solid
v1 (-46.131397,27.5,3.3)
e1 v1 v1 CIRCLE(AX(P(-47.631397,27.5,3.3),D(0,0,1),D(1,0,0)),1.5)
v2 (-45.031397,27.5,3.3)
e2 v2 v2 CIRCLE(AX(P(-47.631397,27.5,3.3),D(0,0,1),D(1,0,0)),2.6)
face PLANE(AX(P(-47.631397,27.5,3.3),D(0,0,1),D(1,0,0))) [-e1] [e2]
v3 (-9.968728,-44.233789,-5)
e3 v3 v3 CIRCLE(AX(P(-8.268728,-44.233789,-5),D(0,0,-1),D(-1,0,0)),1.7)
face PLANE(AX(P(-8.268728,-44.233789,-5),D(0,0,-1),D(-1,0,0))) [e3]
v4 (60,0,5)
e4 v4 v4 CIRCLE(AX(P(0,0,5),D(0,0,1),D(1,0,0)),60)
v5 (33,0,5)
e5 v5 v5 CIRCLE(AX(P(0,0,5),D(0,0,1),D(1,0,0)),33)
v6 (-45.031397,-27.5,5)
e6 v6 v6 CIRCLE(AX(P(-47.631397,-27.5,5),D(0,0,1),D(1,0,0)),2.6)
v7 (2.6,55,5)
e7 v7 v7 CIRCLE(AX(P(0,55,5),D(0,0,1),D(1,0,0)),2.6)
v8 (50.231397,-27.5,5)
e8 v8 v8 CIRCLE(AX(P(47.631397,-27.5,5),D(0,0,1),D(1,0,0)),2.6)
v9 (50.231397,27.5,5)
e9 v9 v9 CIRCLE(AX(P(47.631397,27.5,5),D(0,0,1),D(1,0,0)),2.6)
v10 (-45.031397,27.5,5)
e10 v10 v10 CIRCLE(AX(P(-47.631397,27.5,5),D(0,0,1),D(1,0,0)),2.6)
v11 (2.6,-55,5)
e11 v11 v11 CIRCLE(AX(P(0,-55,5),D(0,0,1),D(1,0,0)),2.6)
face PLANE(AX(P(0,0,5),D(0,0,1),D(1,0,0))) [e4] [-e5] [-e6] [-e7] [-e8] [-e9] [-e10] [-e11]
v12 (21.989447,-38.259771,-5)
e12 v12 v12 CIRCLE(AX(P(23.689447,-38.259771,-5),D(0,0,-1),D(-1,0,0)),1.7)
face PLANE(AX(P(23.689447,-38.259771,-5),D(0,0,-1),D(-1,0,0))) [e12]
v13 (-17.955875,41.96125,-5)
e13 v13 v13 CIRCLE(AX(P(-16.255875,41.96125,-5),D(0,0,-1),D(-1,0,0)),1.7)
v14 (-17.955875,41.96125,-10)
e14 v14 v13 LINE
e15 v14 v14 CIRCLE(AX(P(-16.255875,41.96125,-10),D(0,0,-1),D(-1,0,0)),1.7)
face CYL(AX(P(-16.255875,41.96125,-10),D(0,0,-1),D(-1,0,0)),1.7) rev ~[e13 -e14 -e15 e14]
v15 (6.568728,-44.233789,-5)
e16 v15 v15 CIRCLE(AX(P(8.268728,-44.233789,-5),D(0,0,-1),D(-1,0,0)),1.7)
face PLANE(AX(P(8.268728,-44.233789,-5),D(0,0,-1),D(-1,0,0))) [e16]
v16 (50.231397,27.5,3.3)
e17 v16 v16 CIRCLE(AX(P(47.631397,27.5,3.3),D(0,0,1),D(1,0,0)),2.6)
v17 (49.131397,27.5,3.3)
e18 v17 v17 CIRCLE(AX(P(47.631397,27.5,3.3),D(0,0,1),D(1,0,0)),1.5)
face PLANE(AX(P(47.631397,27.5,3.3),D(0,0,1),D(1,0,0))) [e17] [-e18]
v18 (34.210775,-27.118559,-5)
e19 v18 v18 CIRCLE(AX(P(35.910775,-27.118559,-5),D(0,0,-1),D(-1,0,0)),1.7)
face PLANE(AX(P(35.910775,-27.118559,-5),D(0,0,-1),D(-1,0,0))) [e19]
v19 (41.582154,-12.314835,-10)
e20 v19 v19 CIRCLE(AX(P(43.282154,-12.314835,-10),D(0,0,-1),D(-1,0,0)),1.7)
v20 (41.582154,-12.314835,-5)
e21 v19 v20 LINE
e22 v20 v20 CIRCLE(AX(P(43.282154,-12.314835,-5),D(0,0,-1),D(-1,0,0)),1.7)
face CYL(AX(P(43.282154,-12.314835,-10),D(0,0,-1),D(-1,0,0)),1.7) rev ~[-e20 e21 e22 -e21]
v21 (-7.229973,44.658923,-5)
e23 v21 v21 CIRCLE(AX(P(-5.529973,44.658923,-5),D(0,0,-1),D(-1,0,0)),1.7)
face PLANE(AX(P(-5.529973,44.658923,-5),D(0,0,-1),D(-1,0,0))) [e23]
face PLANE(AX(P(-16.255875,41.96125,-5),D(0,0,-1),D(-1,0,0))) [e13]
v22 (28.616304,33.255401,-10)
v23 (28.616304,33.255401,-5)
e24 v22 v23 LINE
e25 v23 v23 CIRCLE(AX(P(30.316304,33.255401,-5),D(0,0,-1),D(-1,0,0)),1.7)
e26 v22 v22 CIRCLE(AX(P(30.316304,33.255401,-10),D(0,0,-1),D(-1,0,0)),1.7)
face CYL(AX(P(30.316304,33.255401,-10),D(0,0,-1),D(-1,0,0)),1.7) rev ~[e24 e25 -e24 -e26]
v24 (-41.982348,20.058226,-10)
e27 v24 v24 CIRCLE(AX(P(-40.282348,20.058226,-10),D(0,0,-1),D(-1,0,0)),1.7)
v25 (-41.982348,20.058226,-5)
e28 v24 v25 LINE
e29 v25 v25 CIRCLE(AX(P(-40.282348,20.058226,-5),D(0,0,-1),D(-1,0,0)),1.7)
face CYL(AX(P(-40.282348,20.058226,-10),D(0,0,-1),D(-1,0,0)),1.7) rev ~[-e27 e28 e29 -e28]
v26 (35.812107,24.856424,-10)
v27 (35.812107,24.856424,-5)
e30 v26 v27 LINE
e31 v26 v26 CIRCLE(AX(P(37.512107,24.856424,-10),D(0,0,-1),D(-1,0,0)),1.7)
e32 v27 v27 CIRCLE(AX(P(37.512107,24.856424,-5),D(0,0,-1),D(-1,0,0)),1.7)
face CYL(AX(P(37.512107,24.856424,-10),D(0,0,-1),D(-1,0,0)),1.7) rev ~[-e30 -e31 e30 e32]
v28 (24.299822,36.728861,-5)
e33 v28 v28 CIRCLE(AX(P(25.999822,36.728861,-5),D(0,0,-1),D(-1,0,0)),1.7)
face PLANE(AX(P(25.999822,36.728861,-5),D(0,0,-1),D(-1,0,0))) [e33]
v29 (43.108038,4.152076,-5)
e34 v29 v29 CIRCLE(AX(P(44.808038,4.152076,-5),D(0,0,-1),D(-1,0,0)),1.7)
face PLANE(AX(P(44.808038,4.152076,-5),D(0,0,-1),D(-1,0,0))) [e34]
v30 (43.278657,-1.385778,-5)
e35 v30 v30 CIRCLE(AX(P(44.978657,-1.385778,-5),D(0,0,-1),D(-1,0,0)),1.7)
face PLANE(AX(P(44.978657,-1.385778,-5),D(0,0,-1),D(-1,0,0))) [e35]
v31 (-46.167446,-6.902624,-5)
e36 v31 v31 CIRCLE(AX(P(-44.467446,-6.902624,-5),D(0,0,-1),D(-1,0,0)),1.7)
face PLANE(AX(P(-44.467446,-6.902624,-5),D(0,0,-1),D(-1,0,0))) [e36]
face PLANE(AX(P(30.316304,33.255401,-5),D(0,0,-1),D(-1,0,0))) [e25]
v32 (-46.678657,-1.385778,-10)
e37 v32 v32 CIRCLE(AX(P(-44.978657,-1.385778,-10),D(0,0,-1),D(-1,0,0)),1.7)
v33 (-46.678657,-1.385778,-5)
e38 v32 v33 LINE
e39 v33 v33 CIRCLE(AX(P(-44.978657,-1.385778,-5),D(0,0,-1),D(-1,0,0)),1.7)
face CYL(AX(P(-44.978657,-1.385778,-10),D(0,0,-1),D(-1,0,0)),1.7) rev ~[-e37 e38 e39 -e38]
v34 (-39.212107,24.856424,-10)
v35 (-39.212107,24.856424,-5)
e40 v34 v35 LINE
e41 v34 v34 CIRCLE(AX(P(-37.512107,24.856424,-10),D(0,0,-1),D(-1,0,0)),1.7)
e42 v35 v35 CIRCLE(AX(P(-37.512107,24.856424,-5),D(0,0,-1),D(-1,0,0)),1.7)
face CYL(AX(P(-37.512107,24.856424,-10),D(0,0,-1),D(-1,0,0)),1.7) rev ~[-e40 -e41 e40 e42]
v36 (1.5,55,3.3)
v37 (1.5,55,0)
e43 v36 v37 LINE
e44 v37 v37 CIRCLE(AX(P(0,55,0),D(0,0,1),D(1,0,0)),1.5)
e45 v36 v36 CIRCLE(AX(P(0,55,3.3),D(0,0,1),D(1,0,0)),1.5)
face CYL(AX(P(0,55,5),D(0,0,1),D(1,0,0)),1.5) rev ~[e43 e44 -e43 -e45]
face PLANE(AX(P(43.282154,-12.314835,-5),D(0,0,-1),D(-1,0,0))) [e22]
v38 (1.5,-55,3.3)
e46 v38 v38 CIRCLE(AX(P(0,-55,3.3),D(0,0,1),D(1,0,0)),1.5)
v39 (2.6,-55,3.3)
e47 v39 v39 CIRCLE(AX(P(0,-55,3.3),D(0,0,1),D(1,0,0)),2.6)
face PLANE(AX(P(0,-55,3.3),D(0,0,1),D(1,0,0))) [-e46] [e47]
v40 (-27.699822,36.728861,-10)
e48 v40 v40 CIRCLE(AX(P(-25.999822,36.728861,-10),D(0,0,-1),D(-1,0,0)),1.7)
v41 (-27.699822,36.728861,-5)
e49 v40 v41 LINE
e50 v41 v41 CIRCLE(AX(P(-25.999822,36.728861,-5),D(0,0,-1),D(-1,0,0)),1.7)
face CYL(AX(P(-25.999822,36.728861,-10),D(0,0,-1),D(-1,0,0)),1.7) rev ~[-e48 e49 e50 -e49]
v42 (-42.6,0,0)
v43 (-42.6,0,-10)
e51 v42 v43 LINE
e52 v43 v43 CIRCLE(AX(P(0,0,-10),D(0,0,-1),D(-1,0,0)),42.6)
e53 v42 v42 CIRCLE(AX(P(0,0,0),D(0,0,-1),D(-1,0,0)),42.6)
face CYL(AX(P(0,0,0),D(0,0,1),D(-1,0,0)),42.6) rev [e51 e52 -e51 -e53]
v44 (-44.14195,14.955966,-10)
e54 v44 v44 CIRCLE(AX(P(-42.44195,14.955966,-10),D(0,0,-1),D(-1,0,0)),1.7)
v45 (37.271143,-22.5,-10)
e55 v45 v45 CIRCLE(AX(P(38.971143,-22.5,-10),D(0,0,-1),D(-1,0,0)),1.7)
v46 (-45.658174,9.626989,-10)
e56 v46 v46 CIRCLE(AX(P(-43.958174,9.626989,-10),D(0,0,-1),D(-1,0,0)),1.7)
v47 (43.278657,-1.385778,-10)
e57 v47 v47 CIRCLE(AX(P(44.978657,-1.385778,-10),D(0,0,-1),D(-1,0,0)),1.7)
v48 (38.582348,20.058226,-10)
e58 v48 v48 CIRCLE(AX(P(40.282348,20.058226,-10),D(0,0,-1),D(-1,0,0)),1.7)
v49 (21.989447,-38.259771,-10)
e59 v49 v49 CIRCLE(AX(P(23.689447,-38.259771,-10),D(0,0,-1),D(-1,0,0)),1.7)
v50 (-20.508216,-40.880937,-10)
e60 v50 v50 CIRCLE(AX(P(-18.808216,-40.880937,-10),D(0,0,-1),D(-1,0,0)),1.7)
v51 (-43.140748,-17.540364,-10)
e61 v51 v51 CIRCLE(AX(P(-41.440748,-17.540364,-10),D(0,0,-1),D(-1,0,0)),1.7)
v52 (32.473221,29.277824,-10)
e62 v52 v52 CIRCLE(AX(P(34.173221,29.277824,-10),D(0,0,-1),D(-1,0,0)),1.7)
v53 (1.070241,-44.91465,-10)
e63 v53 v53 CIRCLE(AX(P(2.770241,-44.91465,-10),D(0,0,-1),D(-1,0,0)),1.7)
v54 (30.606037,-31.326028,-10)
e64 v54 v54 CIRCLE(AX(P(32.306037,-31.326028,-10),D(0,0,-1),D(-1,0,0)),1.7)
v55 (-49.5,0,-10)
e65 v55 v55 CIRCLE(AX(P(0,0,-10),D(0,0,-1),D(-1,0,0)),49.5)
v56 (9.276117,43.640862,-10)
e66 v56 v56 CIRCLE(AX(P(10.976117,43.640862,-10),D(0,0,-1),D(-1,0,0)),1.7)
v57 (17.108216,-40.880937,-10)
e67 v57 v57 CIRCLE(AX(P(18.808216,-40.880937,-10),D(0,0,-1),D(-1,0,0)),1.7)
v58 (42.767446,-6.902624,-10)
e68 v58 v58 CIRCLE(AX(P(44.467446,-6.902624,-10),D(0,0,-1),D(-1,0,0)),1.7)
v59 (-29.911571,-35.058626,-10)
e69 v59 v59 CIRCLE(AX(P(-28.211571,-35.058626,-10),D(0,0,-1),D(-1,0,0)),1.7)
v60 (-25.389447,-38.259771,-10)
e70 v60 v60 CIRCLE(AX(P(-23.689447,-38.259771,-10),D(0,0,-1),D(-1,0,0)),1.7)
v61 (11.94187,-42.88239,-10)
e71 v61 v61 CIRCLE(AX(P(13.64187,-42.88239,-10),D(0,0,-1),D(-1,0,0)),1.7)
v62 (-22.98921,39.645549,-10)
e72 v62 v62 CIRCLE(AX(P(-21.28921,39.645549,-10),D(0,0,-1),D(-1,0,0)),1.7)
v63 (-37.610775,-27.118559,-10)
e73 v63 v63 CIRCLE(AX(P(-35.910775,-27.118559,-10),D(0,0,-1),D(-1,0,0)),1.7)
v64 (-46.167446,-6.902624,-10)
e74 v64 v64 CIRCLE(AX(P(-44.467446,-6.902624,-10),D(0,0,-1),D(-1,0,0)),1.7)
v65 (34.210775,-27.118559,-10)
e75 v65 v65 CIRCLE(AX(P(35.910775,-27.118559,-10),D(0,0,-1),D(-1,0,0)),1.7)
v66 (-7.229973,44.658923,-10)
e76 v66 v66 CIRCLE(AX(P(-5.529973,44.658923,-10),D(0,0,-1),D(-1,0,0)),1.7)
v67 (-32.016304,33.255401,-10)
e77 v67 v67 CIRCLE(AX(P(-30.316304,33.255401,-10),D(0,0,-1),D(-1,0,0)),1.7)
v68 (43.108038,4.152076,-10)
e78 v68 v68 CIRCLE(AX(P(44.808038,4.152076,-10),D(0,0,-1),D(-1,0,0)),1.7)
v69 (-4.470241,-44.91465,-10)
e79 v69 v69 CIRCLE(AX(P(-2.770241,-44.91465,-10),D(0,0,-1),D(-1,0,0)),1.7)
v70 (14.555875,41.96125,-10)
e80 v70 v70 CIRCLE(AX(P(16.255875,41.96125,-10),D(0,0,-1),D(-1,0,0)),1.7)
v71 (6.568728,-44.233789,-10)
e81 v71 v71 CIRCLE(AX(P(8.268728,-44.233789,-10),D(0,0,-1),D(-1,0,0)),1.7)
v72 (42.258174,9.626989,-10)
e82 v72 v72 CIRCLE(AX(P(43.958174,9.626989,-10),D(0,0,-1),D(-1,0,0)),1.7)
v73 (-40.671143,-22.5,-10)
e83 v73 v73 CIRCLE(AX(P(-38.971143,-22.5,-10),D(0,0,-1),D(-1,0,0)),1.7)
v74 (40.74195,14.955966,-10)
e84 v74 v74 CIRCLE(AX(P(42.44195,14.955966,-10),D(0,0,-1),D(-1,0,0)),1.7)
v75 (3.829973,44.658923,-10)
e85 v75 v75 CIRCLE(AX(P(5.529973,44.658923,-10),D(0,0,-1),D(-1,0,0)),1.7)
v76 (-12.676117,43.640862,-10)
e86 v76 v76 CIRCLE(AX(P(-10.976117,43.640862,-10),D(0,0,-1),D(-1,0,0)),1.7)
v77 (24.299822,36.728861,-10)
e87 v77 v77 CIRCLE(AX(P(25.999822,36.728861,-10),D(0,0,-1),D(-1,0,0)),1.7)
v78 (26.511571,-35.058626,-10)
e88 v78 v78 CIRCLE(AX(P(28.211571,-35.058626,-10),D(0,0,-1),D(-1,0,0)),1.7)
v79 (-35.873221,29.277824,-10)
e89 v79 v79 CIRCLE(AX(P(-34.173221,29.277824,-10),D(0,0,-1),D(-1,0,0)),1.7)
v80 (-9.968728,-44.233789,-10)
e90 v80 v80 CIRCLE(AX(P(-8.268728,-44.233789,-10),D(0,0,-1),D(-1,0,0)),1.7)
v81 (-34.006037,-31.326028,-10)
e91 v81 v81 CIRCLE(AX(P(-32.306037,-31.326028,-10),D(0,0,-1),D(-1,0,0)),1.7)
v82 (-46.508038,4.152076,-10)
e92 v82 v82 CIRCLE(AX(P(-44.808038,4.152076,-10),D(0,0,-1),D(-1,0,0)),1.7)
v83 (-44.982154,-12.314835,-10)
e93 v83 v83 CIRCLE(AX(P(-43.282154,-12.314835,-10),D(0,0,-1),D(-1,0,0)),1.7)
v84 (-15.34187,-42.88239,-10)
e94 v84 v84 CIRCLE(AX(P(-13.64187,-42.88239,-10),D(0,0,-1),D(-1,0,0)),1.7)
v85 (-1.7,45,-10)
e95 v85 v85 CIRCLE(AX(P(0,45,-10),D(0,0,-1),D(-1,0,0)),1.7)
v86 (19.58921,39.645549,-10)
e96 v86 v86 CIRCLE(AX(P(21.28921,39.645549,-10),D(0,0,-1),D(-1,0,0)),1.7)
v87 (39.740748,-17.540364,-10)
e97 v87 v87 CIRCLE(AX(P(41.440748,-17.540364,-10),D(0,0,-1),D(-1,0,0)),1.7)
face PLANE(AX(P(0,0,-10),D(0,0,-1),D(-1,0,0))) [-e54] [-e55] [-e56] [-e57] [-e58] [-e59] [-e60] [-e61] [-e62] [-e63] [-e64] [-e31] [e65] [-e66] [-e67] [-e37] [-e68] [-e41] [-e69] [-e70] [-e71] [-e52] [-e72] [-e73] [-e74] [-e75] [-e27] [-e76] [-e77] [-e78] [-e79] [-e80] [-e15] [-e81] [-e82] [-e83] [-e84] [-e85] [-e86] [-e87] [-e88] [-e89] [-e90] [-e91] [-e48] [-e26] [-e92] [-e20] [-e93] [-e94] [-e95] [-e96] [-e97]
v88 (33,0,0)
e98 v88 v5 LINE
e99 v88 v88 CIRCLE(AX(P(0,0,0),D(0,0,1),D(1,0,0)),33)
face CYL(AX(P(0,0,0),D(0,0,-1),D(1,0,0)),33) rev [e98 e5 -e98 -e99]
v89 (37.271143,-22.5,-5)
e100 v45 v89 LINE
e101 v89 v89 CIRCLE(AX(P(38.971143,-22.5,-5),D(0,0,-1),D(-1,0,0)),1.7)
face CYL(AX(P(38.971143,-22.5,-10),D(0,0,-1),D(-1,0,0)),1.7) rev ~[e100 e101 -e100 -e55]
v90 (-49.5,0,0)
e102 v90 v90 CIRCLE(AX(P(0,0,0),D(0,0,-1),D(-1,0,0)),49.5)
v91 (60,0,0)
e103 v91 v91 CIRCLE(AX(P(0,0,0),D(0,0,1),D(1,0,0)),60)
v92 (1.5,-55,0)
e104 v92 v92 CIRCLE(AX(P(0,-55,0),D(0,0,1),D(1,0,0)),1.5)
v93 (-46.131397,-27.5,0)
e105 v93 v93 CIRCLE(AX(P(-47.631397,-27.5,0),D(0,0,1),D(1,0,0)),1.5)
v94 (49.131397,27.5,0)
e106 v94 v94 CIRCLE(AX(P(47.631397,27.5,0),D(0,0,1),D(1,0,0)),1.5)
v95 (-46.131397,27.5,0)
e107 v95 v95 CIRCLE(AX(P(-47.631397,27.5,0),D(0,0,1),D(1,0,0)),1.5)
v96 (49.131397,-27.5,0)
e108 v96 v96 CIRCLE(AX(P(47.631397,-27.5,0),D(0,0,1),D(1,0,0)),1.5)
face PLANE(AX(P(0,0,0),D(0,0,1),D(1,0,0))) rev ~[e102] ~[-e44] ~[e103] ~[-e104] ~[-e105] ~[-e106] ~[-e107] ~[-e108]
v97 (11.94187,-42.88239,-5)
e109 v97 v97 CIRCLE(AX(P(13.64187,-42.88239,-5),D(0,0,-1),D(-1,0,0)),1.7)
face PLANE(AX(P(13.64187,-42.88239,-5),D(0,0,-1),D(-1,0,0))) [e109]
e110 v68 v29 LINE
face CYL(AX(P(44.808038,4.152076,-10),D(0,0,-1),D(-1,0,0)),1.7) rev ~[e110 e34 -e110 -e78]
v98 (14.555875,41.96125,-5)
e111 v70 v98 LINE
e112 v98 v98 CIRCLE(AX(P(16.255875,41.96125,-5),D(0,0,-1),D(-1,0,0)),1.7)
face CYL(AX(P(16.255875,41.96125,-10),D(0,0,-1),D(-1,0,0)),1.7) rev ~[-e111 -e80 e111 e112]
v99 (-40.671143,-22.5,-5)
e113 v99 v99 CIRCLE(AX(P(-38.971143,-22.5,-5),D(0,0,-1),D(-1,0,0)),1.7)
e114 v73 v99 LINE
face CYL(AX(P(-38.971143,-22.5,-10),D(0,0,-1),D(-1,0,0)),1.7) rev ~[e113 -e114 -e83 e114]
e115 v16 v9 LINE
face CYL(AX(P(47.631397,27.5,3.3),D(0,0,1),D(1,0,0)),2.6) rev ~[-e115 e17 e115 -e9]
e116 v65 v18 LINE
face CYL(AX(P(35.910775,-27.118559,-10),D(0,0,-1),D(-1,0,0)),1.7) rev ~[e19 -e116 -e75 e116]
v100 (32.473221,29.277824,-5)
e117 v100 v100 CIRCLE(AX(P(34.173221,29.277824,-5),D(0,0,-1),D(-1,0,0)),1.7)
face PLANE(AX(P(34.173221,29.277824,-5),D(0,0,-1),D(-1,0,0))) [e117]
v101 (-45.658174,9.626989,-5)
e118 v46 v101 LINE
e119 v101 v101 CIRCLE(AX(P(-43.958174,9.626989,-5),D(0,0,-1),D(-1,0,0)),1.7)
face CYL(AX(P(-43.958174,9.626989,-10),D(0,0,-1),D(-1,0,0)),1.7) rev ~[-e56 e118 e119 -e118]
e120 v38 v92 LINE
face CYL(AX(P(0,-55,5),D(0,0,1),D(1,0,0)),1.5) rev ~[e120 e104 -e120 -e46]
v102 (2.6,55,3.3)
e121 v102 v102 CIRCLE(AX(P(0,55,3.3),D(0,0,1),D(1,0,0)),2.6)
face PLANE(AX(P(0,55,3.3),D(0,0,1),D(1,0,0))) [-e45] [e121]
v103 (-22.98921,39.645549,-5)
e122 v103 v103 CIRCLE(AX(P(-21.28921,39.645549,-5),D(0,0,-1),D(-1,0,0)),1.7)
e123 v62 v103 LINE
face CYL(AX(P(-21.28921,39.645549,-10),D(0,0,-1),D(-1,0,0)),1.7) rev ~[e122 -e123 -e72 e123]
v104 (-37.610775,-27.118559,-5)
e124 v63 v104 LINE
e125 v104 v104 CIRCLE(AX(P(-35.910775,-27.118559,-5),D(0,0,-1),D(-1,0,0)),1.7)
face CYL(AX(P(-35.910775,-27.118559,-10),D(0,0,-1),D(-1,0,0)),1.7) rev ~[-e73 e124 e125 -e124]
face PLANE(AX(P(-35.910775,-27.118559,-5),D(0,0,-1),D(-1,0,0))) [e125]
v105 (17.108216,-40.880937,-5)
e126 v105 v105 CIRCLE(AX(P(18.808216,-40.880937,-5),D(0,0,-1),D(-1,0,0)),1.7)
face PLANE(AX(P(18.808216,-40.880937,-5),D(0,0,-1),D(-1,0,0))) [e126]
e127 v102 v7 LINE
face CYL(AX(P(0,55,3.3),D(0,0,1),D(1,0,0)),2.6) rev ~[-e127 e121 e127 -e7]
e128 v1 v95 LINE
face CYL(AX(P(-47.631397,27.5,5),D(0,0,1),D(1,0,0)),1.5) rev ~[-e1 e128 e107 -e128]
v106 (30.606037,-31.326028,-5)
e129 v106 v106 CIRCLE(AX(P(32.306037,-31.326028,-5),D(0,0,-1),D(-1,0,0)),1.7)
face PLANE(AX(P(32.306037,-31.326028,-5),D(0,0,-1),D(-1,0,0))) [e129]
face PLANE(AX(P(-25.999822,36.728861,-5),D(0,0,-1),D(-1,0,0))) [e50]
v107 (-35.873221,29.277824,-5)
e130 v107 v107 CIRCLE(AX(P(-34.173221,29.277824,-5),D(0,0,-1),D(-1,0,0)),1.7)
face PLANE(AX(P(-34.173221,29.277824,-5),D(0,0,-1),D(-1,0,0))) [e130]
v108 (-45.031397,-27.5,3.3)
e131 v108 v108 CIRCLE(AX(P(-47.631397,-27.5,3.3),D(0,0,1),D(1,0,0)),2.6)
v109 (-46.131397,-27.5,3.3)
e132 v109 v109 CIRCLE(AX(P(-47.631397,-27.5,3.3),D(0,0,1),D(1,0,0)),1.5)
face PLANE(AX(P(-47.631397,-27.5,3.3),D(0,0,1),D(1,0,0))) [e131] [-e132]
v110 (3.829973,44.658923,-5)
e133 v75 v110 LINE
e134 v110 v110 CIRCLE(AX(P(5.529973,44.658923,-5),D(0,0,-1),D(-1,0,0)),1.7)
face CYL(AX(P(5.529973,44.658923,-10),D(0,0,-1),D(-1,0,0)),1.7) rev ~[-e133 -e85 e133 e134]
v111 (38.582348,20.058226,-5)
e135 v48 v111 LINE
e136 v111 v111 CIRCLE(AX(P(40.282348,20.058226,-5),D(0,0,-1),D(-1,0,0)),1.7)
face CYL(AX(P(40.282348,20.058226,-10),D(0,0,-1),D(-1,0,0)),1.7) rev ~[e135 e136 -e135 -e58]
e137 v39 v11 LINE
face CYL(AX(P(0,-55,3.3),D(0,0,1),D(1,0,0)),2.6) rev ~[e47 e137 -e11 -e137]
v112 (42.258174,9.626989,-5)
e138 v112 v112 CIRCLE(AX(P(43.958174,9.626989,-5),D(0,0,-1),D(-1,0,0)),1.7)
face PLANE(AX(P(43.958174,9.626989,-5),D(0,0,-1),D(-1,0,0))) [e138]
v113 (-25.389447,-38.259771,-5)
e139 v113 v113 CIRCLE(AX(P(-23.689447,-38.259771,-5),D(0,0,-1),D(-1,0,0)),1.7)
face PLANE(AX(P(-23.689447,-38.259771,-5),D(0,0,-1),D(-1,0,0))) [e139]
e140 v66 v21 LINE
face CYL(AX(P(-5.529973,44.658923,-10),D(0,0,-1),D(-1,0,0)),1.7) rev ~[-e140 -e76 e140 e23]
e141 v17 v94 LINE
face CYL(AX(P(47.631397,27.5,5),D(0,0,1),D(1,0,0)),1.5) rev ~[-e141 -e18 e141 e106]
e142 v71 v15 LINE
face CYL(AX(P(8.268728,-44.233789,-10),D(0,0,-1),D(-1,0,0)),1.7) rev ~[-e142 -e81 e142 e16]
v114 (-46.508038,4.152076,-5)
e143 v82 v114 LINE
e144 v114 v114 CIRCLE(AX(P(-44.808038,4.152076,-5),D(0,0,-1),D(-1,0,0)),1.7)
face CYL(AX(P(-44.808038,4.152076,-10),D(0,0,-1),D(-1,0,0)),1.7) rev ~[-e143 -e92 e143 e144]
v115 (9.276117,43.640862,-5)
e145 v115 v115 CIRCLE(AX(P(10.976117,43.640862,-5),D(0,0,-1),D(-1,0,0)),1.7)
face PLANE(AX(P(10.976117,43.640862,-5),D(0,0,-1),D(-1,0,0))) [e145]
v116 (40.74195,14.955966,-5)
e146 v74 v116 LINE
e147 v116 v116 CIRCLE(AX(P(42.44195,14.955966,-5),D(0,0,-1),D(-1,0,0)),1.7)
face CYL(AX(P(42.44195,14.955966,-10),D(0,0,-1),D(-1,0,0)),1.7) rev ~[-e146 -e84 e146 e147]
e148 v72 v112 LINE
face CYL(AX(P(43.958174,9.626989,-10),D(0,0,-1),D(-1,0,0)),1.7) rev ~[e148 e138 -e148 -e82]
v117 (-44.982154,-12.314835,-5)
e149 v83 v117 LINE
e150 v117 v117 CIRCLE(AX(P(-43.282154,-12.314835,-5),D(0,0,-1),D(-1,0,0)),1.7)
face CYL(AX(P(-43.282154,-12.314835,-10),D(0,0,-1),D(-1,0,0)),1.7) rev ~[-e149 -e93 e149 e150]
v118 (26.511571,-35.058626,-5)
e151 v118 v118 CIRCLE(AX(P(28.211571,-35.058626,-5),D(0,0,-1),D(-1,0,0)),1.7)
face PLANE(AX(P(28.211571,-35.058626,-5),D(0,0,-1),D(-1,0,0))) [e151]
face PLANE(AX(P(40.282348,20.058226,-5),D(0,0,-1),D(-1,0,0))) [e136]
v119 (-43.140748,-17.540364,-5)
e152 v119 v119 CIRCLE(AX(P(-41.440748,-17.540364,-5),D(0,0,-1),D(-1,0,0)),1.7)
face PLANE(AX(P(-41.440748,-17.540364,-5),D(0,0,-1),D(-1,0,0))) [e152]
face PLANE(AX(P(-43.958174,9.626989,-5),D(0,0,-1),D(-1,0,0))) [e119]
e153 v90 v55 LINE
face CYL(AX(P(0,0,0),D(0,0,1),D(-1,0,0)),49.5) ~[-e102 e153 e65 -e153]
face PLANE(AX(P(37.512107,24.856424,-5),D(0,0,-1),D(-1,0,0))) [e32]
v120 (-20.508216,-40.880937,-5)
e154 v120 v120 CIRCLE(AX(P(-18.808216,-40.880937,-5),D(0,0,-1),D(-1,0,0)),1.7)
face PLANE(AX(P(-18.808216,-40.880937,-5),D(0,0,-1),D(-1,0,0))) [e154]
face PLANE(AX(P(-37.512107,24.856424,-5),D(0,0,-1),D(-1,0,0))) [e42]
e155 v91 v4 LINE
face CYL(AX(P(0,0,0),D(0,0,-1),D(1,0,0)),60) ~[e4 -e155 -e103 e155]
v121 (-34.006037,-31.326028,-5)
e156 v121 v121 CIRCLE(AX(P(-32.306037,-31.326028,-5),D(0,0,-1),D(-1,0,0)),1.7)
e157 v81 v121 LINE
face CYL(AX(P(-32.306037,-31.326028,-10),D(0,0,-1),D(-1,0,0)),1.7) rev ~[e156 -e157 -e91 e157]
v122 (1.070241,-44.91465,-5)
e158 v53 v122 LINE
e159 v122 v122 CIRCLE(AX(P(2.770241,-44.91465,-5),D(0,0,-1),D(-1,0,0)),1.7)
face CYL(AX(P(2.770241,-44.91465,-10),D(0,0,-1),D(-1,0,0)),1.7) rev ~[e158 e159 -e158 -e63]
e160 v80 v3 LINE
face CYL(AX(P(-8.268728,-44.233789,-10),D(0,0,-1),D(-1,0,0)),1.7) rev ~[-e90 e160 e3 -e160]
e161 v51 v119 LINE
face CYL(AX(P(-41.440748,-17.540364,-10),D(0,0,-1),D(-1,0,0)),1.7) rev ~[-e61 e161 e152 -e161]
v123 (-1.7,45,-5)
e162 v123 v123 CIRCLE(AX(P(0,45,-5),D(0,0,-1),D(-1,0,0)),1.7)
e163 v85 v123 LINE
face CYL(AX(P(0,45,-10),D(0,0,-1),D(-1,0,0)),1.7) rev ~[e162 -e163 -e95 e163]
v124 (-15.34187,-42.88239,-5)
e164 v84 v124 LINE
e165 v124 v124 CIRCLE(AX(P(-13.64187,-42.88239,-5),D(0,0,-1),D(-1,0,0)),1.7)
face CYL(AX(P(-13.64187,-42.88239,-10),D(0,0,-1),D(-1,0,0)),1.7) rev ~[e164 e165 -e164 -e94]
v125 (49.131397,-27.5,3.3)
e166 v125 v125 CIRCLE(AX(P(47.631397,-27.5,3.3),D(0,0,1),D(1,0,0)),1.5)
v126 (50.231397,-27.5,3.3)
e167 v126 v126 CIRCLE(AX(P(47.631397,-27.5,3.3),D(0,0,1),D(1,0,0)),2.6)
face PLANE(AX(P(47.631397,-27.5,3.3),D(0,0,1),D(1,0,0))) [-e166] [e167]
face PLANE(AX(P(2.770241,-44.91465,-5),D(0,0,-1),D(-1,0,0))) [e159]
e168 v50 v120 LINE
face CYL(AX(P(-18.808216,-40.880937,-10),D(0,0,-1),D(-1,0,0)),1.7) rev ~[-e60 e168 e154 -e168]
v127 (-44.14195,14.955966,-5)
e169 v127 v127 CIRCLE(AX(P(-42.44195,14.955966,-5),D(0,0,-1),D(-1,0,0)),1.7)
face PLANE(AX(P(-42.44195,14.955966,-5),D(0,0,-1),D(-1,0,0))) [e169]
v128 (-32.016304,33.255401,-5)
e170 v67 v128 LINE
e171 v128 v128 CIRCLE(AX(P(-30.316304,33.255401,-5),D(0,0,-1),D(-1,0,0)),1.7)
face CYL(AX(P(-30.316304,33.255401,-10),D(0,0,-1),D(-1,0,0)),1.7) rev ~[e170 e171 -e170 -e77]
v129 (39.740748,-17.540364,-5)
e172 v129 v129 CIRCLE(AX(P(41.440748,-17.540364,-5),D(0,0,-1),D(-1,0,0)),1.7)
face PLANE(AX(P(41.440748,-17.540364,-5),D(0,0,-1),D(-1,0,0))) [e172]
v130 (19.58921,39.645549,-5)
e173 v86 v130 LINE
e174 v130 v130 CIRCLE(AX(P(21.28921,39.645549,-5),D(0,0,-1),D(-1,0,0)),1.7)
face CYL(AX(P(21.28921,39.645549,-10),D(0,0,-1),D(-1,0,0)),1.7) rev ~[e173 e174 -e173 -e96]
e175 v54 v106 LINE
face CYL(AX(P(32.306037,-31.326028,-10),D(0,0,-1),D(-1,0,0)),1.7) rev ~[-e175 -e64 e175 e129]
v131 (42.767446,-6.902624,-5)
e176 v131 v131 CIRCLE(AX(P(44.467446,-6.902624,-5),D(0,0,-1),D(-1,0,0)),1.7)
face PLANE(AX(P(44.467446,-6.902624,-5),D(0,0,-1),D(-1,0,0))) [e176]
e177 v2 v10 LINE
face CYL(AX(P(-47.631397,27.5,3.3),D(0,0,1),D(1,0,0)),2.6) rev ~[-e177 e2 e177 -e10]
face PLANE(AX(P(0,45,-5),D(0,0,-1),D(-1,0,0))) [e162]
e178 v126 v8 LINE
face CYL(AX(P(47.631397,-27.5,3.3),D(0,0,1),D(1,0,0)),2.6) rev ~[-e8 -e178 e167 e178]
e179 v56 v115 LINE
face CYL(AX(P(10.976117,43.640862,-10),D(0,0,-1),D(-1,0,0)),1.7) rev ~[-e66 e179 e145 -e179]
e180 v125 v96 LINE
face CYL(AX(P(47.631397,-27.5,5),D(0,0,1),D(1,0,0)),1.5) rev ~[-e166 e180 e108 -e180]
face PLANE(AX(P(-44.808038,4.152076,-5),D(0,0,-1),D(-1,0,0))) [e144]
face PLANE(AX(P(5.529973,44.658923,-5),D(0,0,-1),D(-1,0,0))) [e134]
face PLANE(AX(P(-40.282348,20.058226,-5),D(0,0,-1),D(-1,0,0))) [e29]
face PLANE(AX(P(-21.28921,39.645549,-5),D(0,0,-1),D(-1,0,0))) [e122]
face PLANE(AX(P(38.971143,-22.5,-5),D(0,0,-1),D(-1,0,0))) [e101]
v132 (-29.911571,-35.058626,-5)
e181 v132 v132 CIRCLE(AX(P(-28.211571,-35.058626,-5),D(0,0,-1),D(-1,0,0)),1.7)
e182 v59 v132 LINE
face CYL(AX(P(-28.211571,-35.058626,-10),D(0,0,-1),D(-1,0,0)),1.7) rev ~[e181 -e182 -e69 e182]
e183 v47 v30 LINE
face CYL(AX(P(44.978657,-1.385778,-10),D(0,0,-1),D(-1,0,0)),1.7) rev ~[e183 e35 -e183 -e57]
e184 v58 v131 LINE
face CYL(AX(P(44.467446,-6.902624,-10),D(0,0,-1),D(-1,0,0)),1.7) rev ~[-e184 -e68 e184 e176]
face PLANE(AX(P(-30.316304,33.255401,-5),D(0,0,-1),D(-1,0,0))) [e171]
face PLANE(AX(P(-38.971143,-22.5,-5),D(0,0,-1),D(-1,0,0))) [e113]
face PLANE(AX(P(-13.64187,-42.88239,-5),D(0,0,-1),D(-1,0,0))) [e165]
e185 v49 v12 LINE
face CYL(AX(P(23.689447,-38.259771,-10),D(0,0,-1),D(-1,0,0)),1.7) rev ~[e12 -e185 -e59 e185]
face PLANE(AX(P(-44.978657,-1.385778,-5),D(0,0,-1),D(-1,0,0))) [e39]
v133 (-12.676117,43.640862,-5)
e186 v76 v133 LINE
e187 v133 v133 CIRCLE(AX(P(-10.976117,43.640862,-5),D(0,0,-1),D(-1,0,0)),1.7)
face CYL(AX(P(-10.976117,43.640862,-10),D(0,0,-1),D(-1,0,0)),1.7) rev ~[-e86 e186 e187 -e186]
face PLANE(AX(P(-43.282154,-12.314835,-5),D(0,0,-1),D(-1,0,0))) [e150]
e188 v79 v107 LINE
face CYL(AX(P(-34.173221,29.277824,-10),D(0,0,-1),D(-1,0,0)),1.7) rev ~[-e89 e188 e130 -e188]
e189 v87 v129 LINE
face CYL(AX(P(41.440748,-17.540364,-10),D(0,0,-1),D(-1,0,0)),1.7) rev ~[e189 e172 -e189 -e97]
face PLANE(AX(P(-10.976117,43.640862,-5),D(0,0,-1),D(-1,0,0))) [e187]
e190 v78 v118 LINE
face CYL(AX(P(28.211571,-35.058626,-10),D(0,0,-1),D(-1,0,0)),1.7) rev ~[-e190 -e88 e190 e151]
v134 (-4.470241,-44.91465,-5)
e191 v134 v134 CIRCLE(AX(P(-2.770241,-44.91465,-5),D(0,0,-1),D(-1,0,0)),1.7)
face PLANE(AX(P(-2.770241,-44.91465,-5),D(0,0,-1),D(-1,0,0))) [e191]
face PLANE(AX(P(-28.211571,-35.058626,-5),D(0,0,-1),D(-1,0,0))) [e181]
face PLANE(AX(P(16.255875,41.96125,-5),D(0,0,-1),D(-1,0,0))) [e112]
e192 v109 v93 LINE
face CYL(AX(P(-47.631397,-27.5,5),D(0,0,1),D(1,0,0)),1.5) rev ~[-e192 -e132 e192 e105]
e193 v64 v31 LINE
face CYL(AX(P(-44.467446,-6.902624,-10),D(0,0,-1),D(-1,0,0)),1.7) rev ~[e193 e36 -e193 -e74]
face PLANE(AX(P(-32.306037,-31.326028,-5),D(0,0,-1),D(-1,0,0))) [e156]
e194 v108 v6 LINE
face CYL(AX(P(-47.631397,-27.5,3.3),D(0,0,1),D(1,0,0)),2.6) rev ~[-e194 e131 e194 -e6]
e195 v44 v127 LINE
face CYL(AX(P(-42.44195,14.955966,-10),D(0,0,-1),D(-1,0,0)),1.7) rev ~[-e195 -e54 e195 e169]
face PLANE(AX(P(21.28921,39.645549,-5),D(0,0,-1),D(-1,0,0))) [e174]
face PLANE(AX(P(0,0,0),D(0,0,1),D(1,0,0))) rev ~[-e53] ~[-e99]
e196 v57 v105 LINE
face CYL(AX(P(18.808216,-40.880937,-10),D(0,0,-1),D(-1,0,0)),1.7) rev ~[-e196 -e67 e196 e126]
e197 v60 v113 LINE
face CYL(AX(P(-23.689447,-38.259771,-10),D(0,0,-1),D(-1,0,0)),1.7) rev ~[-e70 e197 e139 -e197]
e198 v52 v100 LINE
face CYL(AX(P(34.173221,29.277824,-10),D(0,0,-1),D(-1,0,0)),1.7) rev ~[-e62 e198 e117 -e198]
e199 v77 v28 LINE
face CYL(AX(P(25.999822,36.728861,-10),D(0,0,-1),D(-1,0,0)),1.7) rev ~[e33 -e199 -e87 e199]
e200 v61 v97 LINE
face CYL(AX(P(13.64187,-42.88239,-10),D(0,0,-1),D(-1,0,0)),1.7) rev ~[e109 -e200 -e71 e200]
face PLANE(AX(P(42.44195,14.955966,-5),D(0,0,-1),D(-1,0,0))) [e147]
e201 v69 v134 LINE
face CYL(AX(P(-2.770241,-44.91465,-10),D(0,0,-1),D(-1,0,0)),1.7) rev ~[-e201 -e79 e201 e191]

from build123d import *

# Parameters (mm, degrees)
SKETCH1_R                                            = 60
SKETCH1_R_2                                          = 33
BOSS_EXTRUDE1_DEPTH                                  = 5
SKETCH2_R                                            = 49.5
SKETCH2_R_2                                          = 42.6
BOSS_EXTRUDE2_DEPTH                                  = 10
SKETCH3_R                                            = 1.7
CUT_EXTRUDE1_DEPTH                                   = 5
SKETCH5_R                                            = 1.5
CUT_EXTRUDE2_DEPTH                                   = 5
CBORE_FOR_M5_HEX_SOCKET_THIN_HEAD_CAP_SC_D           = 3
CBORE_FOR_M5_HEX_SOCKET_THIN_HEAD_CAP_SC_CBORE_D     = 5.2
CBORE_FOR_M5_HEX_SOCKET_THIN_HEAD_CAP_SC_CBORE_DEPTH = 1.7


with BuildPart() as part:
    # Sketch1 → Boss-Extrude1 (new body)
    with BuildSketch(Plane.XY):
        Circle(SKETCH1_R)
        Circle(SKETCH1_R_2, mode=Mode.SUBTRACT)
    extrude(amount=BOSS_EXTRUDE1_DEPTH)

    # Sketch2 → Boss-Extrude2 (add)
    with BuildSketch(Plane(origin=(0, 0, 0), x_dir=(-1, 0, 0), z_dir=(0, 0, -1))):
        Circle(SKETCH2_R)
        Circle(SKETCH2_R_2, mode=Mode.SUBTRACT)
    extrude(amount=BOSS_EXTRUDE2_DEPTH)

    # Sketch3 → Cut-Extrude1 (cut)
    with BuildSketch(Plane(origin=(0, 0, -10), x_dir=(-1, 0, 0), z_dir=(0, 0, -1))):
        with Locations((0, 45)):
            Circle(SKETCH3_R)
        with Locations((5.52997308, 44.658922935)):
            Circle(SKETCH3_R)
        with Locations((10.976117405, 43.640862122)):
            Circle(SKETCH3_R)
        with Locations((16.255874978, 41.961250323)):
            Circle(SKETCH3_R)
        with Locations((21.289210058, 39.645548743)):
            Circle(SKETCH3_R)
        with Locations((25.999822413, 36.728861056)):
            Circle(SKETCH3_R)
        with Locations((30.316303964, 33.255401275)):
            Circle(SKETCH3_R)
        with Locations((34.173221249, 29.277823509)):
            Circle(SKETCH3_R)
        with Locations((37.512107335, 24.856423783)):
            Circle(SKETCH3_R)
        with Locations((40.282348111, 20.05822601)):
            Circle(SKETCH3_R)
        with Locations((42.441949551, 14.955965977)):
            Circle(SKETCH3_R)
        with Locations((43.958174299, 9.626988744)):
            Circle(SKETCH3_R)
        with Locations((44.808037933, 4.152076176)):
            Circle(SKETCH3_R)
        with Locations((44.978657387, -1.385777635)):
            Circle(SKETCH3_R)
        with Locations((44.467446244, -6.90262447)):
            Circle(SKETCH3_R)
        with Locations((43.282153943, -12.314834553)):
            Circle(SKETCH3_R)
        with Locations((41.440748308, -17.540364298)):
            Circle(SKETCH3_R)
        with Locations((38.97114317, -22.5)):
            Circle(SKETCH3_R)
        with Locations((35.910775228, -27.118558637)):
            Circle(SKETCH3_R)
        with Locations((32.306036538, -31.326027568)):
            Circle(SKETCH3_R)
        with Locations((28.211571265, -35.058625854)):
            Circle(SKETCH3_R)
        with Locations((23.689447329, -38.259771108)):
            Circle(SKETCH3_R)
        with Locations((18.80821552, -40.880937232)):
            Circle(SKETCH3_R)
        with Locations((13.641870335, -42.882390019)):
            Circle(SKETCH3_R)
        with Locations((8.268728302, -44.233789486)):
            Circle(SKETCH3_R)
        with Locations((2.770240776, -44.914649793)):
            Circle(SKETCH3_R)
        with Locations((-2.770240776, -44.914649793)):
            Circle(SKETCH3_R)
        with Locations((-8.268728302, -44.233789486)):
            Circle(SKETCH3_R)
        with Locations((-13.641870335, -42.882390019)):
            Circle(SKETCH3_R)
        with Locations((-18.80821552, -40.880937232)):
            Circle(SKETCH3_R)
        with Locations((-23.689447329, -38.259771108)):
            Circle(SKETCH3_R)
        with Locations((-28.211571265, -35.058625854)):
            Circle(SKETCH3_R)
        with Locations((-32.306036538, -31.326027568)):
            Circle(SKETCH3_R)
        with Locations((-35.910775228, -27.118558637)):
            Circle(SKETCH3_R)
        with Locations((-38.97114317, -22.5)):
            Circle(SKETCH3_R)
        with Locations((-41.440748308, -17.540364298)):
            Circle(SKETCH3_R)
        with Locations((-43.282153943, -12.314834553)):
            Circle(SKETCH3_R)
        with Locations((-44.467446244, -6.90262447)):
            Circle(SKETCH3_R)
        with Locations((-44.978657387, -1.385777635)):
            Circle(SKETCH3_R)
        with Locations((-44.808037933, 4.152076176)):
            Circle(SKETCH3_R)
        with Locations((-43.958174299, 9.626988744)):
            Circle(SKETCH3_R)
        with Locations((-42.441949551, 14.955965977)):
            Circle(SKETCH3_R)
        with Locations((-40.282348111, 20.05822601)):
            Circle(SKETCH3_R)
        with Locations((-37.512107335, 24.856423783)):
            Circle(SKETCH3_R)
        with Locations((-34.173221249, 29.277823509)):
            Circle(SKETCH3_R)
        with Locations((-30.316303964, 33.255401275)):
            Circle(SKETCH3_R)
        with Locations((-25.999822413, 36.728861056)):
            Circle(SKETCH3_R)
        with Locations((-21.289210058, 39.645548743)):
            Circle(SKETCH3_R)
        with Locations((-16.255874978, 41.961250323)):
            Circle(SKETCH3_R)
        with Locations((-10.976117405, 43.640862122)):
            Circle(SKETCH3_R)
        with Locations((-5.52997308, 44.658922935)):
            Circle(SKETCH3_R)
    extrude(amount=-CUT_EXTRUDE1_DEPTH, mode=Mode.SUBTRACT)

    # Sketch5 → Cut-Extrude2 (cut)
    with BuildSketch(Plane.XY.offset(5)):
        with Locations((0, 55)):
            Circle(SKETCH5_R)
        with Locations((47.631397208, 27.5)):
            Circle(SKETCH5_R)
        with Locations((47.631397208, -27.5)):
            Circle(SKETCH5_R)
        with Locations((0, -55)):
            Circle(SKETCH5_R)
        with Locations((-47.631397208, -27.5)):
            Circle(SKETCH5_R)
        with Locations((-47.631397208, 27.5)):
            Circle(SKETCH5_R)
    extrude(amount=-CUT_EXTRUDE2_DEPTH, mode=Mode.SUBTRACT)

    # CBORE for M5 Hex Socket Thin Head Cap Screw4 (through all)
    with Locations(Plane(origin=(-47.631397208, 27.5, 5), x_dir=(1, 0, 0), z_dir=(0, 0, 1))):
        with Locations((0, 0), (47.631397208, 27.5), (95.262794416, 0), (95.262794416, -55), (47.631397208, -82.5), (0, -55)):
            CounterBoreHole(CBORE_FOR_M5_HEX_SOCKET_THIN_HEAD_CAP_SC_D / 2, CBORE_FOR_M5_HEX_SOCKET_THIN_HEAD_CAP_SC_CBORE_D / 2, CBORE_FOR_M5_HEX_SOCKET_THIN_HEAD_CAP_SC_CBORE_DEPTH)


solid = part.part
